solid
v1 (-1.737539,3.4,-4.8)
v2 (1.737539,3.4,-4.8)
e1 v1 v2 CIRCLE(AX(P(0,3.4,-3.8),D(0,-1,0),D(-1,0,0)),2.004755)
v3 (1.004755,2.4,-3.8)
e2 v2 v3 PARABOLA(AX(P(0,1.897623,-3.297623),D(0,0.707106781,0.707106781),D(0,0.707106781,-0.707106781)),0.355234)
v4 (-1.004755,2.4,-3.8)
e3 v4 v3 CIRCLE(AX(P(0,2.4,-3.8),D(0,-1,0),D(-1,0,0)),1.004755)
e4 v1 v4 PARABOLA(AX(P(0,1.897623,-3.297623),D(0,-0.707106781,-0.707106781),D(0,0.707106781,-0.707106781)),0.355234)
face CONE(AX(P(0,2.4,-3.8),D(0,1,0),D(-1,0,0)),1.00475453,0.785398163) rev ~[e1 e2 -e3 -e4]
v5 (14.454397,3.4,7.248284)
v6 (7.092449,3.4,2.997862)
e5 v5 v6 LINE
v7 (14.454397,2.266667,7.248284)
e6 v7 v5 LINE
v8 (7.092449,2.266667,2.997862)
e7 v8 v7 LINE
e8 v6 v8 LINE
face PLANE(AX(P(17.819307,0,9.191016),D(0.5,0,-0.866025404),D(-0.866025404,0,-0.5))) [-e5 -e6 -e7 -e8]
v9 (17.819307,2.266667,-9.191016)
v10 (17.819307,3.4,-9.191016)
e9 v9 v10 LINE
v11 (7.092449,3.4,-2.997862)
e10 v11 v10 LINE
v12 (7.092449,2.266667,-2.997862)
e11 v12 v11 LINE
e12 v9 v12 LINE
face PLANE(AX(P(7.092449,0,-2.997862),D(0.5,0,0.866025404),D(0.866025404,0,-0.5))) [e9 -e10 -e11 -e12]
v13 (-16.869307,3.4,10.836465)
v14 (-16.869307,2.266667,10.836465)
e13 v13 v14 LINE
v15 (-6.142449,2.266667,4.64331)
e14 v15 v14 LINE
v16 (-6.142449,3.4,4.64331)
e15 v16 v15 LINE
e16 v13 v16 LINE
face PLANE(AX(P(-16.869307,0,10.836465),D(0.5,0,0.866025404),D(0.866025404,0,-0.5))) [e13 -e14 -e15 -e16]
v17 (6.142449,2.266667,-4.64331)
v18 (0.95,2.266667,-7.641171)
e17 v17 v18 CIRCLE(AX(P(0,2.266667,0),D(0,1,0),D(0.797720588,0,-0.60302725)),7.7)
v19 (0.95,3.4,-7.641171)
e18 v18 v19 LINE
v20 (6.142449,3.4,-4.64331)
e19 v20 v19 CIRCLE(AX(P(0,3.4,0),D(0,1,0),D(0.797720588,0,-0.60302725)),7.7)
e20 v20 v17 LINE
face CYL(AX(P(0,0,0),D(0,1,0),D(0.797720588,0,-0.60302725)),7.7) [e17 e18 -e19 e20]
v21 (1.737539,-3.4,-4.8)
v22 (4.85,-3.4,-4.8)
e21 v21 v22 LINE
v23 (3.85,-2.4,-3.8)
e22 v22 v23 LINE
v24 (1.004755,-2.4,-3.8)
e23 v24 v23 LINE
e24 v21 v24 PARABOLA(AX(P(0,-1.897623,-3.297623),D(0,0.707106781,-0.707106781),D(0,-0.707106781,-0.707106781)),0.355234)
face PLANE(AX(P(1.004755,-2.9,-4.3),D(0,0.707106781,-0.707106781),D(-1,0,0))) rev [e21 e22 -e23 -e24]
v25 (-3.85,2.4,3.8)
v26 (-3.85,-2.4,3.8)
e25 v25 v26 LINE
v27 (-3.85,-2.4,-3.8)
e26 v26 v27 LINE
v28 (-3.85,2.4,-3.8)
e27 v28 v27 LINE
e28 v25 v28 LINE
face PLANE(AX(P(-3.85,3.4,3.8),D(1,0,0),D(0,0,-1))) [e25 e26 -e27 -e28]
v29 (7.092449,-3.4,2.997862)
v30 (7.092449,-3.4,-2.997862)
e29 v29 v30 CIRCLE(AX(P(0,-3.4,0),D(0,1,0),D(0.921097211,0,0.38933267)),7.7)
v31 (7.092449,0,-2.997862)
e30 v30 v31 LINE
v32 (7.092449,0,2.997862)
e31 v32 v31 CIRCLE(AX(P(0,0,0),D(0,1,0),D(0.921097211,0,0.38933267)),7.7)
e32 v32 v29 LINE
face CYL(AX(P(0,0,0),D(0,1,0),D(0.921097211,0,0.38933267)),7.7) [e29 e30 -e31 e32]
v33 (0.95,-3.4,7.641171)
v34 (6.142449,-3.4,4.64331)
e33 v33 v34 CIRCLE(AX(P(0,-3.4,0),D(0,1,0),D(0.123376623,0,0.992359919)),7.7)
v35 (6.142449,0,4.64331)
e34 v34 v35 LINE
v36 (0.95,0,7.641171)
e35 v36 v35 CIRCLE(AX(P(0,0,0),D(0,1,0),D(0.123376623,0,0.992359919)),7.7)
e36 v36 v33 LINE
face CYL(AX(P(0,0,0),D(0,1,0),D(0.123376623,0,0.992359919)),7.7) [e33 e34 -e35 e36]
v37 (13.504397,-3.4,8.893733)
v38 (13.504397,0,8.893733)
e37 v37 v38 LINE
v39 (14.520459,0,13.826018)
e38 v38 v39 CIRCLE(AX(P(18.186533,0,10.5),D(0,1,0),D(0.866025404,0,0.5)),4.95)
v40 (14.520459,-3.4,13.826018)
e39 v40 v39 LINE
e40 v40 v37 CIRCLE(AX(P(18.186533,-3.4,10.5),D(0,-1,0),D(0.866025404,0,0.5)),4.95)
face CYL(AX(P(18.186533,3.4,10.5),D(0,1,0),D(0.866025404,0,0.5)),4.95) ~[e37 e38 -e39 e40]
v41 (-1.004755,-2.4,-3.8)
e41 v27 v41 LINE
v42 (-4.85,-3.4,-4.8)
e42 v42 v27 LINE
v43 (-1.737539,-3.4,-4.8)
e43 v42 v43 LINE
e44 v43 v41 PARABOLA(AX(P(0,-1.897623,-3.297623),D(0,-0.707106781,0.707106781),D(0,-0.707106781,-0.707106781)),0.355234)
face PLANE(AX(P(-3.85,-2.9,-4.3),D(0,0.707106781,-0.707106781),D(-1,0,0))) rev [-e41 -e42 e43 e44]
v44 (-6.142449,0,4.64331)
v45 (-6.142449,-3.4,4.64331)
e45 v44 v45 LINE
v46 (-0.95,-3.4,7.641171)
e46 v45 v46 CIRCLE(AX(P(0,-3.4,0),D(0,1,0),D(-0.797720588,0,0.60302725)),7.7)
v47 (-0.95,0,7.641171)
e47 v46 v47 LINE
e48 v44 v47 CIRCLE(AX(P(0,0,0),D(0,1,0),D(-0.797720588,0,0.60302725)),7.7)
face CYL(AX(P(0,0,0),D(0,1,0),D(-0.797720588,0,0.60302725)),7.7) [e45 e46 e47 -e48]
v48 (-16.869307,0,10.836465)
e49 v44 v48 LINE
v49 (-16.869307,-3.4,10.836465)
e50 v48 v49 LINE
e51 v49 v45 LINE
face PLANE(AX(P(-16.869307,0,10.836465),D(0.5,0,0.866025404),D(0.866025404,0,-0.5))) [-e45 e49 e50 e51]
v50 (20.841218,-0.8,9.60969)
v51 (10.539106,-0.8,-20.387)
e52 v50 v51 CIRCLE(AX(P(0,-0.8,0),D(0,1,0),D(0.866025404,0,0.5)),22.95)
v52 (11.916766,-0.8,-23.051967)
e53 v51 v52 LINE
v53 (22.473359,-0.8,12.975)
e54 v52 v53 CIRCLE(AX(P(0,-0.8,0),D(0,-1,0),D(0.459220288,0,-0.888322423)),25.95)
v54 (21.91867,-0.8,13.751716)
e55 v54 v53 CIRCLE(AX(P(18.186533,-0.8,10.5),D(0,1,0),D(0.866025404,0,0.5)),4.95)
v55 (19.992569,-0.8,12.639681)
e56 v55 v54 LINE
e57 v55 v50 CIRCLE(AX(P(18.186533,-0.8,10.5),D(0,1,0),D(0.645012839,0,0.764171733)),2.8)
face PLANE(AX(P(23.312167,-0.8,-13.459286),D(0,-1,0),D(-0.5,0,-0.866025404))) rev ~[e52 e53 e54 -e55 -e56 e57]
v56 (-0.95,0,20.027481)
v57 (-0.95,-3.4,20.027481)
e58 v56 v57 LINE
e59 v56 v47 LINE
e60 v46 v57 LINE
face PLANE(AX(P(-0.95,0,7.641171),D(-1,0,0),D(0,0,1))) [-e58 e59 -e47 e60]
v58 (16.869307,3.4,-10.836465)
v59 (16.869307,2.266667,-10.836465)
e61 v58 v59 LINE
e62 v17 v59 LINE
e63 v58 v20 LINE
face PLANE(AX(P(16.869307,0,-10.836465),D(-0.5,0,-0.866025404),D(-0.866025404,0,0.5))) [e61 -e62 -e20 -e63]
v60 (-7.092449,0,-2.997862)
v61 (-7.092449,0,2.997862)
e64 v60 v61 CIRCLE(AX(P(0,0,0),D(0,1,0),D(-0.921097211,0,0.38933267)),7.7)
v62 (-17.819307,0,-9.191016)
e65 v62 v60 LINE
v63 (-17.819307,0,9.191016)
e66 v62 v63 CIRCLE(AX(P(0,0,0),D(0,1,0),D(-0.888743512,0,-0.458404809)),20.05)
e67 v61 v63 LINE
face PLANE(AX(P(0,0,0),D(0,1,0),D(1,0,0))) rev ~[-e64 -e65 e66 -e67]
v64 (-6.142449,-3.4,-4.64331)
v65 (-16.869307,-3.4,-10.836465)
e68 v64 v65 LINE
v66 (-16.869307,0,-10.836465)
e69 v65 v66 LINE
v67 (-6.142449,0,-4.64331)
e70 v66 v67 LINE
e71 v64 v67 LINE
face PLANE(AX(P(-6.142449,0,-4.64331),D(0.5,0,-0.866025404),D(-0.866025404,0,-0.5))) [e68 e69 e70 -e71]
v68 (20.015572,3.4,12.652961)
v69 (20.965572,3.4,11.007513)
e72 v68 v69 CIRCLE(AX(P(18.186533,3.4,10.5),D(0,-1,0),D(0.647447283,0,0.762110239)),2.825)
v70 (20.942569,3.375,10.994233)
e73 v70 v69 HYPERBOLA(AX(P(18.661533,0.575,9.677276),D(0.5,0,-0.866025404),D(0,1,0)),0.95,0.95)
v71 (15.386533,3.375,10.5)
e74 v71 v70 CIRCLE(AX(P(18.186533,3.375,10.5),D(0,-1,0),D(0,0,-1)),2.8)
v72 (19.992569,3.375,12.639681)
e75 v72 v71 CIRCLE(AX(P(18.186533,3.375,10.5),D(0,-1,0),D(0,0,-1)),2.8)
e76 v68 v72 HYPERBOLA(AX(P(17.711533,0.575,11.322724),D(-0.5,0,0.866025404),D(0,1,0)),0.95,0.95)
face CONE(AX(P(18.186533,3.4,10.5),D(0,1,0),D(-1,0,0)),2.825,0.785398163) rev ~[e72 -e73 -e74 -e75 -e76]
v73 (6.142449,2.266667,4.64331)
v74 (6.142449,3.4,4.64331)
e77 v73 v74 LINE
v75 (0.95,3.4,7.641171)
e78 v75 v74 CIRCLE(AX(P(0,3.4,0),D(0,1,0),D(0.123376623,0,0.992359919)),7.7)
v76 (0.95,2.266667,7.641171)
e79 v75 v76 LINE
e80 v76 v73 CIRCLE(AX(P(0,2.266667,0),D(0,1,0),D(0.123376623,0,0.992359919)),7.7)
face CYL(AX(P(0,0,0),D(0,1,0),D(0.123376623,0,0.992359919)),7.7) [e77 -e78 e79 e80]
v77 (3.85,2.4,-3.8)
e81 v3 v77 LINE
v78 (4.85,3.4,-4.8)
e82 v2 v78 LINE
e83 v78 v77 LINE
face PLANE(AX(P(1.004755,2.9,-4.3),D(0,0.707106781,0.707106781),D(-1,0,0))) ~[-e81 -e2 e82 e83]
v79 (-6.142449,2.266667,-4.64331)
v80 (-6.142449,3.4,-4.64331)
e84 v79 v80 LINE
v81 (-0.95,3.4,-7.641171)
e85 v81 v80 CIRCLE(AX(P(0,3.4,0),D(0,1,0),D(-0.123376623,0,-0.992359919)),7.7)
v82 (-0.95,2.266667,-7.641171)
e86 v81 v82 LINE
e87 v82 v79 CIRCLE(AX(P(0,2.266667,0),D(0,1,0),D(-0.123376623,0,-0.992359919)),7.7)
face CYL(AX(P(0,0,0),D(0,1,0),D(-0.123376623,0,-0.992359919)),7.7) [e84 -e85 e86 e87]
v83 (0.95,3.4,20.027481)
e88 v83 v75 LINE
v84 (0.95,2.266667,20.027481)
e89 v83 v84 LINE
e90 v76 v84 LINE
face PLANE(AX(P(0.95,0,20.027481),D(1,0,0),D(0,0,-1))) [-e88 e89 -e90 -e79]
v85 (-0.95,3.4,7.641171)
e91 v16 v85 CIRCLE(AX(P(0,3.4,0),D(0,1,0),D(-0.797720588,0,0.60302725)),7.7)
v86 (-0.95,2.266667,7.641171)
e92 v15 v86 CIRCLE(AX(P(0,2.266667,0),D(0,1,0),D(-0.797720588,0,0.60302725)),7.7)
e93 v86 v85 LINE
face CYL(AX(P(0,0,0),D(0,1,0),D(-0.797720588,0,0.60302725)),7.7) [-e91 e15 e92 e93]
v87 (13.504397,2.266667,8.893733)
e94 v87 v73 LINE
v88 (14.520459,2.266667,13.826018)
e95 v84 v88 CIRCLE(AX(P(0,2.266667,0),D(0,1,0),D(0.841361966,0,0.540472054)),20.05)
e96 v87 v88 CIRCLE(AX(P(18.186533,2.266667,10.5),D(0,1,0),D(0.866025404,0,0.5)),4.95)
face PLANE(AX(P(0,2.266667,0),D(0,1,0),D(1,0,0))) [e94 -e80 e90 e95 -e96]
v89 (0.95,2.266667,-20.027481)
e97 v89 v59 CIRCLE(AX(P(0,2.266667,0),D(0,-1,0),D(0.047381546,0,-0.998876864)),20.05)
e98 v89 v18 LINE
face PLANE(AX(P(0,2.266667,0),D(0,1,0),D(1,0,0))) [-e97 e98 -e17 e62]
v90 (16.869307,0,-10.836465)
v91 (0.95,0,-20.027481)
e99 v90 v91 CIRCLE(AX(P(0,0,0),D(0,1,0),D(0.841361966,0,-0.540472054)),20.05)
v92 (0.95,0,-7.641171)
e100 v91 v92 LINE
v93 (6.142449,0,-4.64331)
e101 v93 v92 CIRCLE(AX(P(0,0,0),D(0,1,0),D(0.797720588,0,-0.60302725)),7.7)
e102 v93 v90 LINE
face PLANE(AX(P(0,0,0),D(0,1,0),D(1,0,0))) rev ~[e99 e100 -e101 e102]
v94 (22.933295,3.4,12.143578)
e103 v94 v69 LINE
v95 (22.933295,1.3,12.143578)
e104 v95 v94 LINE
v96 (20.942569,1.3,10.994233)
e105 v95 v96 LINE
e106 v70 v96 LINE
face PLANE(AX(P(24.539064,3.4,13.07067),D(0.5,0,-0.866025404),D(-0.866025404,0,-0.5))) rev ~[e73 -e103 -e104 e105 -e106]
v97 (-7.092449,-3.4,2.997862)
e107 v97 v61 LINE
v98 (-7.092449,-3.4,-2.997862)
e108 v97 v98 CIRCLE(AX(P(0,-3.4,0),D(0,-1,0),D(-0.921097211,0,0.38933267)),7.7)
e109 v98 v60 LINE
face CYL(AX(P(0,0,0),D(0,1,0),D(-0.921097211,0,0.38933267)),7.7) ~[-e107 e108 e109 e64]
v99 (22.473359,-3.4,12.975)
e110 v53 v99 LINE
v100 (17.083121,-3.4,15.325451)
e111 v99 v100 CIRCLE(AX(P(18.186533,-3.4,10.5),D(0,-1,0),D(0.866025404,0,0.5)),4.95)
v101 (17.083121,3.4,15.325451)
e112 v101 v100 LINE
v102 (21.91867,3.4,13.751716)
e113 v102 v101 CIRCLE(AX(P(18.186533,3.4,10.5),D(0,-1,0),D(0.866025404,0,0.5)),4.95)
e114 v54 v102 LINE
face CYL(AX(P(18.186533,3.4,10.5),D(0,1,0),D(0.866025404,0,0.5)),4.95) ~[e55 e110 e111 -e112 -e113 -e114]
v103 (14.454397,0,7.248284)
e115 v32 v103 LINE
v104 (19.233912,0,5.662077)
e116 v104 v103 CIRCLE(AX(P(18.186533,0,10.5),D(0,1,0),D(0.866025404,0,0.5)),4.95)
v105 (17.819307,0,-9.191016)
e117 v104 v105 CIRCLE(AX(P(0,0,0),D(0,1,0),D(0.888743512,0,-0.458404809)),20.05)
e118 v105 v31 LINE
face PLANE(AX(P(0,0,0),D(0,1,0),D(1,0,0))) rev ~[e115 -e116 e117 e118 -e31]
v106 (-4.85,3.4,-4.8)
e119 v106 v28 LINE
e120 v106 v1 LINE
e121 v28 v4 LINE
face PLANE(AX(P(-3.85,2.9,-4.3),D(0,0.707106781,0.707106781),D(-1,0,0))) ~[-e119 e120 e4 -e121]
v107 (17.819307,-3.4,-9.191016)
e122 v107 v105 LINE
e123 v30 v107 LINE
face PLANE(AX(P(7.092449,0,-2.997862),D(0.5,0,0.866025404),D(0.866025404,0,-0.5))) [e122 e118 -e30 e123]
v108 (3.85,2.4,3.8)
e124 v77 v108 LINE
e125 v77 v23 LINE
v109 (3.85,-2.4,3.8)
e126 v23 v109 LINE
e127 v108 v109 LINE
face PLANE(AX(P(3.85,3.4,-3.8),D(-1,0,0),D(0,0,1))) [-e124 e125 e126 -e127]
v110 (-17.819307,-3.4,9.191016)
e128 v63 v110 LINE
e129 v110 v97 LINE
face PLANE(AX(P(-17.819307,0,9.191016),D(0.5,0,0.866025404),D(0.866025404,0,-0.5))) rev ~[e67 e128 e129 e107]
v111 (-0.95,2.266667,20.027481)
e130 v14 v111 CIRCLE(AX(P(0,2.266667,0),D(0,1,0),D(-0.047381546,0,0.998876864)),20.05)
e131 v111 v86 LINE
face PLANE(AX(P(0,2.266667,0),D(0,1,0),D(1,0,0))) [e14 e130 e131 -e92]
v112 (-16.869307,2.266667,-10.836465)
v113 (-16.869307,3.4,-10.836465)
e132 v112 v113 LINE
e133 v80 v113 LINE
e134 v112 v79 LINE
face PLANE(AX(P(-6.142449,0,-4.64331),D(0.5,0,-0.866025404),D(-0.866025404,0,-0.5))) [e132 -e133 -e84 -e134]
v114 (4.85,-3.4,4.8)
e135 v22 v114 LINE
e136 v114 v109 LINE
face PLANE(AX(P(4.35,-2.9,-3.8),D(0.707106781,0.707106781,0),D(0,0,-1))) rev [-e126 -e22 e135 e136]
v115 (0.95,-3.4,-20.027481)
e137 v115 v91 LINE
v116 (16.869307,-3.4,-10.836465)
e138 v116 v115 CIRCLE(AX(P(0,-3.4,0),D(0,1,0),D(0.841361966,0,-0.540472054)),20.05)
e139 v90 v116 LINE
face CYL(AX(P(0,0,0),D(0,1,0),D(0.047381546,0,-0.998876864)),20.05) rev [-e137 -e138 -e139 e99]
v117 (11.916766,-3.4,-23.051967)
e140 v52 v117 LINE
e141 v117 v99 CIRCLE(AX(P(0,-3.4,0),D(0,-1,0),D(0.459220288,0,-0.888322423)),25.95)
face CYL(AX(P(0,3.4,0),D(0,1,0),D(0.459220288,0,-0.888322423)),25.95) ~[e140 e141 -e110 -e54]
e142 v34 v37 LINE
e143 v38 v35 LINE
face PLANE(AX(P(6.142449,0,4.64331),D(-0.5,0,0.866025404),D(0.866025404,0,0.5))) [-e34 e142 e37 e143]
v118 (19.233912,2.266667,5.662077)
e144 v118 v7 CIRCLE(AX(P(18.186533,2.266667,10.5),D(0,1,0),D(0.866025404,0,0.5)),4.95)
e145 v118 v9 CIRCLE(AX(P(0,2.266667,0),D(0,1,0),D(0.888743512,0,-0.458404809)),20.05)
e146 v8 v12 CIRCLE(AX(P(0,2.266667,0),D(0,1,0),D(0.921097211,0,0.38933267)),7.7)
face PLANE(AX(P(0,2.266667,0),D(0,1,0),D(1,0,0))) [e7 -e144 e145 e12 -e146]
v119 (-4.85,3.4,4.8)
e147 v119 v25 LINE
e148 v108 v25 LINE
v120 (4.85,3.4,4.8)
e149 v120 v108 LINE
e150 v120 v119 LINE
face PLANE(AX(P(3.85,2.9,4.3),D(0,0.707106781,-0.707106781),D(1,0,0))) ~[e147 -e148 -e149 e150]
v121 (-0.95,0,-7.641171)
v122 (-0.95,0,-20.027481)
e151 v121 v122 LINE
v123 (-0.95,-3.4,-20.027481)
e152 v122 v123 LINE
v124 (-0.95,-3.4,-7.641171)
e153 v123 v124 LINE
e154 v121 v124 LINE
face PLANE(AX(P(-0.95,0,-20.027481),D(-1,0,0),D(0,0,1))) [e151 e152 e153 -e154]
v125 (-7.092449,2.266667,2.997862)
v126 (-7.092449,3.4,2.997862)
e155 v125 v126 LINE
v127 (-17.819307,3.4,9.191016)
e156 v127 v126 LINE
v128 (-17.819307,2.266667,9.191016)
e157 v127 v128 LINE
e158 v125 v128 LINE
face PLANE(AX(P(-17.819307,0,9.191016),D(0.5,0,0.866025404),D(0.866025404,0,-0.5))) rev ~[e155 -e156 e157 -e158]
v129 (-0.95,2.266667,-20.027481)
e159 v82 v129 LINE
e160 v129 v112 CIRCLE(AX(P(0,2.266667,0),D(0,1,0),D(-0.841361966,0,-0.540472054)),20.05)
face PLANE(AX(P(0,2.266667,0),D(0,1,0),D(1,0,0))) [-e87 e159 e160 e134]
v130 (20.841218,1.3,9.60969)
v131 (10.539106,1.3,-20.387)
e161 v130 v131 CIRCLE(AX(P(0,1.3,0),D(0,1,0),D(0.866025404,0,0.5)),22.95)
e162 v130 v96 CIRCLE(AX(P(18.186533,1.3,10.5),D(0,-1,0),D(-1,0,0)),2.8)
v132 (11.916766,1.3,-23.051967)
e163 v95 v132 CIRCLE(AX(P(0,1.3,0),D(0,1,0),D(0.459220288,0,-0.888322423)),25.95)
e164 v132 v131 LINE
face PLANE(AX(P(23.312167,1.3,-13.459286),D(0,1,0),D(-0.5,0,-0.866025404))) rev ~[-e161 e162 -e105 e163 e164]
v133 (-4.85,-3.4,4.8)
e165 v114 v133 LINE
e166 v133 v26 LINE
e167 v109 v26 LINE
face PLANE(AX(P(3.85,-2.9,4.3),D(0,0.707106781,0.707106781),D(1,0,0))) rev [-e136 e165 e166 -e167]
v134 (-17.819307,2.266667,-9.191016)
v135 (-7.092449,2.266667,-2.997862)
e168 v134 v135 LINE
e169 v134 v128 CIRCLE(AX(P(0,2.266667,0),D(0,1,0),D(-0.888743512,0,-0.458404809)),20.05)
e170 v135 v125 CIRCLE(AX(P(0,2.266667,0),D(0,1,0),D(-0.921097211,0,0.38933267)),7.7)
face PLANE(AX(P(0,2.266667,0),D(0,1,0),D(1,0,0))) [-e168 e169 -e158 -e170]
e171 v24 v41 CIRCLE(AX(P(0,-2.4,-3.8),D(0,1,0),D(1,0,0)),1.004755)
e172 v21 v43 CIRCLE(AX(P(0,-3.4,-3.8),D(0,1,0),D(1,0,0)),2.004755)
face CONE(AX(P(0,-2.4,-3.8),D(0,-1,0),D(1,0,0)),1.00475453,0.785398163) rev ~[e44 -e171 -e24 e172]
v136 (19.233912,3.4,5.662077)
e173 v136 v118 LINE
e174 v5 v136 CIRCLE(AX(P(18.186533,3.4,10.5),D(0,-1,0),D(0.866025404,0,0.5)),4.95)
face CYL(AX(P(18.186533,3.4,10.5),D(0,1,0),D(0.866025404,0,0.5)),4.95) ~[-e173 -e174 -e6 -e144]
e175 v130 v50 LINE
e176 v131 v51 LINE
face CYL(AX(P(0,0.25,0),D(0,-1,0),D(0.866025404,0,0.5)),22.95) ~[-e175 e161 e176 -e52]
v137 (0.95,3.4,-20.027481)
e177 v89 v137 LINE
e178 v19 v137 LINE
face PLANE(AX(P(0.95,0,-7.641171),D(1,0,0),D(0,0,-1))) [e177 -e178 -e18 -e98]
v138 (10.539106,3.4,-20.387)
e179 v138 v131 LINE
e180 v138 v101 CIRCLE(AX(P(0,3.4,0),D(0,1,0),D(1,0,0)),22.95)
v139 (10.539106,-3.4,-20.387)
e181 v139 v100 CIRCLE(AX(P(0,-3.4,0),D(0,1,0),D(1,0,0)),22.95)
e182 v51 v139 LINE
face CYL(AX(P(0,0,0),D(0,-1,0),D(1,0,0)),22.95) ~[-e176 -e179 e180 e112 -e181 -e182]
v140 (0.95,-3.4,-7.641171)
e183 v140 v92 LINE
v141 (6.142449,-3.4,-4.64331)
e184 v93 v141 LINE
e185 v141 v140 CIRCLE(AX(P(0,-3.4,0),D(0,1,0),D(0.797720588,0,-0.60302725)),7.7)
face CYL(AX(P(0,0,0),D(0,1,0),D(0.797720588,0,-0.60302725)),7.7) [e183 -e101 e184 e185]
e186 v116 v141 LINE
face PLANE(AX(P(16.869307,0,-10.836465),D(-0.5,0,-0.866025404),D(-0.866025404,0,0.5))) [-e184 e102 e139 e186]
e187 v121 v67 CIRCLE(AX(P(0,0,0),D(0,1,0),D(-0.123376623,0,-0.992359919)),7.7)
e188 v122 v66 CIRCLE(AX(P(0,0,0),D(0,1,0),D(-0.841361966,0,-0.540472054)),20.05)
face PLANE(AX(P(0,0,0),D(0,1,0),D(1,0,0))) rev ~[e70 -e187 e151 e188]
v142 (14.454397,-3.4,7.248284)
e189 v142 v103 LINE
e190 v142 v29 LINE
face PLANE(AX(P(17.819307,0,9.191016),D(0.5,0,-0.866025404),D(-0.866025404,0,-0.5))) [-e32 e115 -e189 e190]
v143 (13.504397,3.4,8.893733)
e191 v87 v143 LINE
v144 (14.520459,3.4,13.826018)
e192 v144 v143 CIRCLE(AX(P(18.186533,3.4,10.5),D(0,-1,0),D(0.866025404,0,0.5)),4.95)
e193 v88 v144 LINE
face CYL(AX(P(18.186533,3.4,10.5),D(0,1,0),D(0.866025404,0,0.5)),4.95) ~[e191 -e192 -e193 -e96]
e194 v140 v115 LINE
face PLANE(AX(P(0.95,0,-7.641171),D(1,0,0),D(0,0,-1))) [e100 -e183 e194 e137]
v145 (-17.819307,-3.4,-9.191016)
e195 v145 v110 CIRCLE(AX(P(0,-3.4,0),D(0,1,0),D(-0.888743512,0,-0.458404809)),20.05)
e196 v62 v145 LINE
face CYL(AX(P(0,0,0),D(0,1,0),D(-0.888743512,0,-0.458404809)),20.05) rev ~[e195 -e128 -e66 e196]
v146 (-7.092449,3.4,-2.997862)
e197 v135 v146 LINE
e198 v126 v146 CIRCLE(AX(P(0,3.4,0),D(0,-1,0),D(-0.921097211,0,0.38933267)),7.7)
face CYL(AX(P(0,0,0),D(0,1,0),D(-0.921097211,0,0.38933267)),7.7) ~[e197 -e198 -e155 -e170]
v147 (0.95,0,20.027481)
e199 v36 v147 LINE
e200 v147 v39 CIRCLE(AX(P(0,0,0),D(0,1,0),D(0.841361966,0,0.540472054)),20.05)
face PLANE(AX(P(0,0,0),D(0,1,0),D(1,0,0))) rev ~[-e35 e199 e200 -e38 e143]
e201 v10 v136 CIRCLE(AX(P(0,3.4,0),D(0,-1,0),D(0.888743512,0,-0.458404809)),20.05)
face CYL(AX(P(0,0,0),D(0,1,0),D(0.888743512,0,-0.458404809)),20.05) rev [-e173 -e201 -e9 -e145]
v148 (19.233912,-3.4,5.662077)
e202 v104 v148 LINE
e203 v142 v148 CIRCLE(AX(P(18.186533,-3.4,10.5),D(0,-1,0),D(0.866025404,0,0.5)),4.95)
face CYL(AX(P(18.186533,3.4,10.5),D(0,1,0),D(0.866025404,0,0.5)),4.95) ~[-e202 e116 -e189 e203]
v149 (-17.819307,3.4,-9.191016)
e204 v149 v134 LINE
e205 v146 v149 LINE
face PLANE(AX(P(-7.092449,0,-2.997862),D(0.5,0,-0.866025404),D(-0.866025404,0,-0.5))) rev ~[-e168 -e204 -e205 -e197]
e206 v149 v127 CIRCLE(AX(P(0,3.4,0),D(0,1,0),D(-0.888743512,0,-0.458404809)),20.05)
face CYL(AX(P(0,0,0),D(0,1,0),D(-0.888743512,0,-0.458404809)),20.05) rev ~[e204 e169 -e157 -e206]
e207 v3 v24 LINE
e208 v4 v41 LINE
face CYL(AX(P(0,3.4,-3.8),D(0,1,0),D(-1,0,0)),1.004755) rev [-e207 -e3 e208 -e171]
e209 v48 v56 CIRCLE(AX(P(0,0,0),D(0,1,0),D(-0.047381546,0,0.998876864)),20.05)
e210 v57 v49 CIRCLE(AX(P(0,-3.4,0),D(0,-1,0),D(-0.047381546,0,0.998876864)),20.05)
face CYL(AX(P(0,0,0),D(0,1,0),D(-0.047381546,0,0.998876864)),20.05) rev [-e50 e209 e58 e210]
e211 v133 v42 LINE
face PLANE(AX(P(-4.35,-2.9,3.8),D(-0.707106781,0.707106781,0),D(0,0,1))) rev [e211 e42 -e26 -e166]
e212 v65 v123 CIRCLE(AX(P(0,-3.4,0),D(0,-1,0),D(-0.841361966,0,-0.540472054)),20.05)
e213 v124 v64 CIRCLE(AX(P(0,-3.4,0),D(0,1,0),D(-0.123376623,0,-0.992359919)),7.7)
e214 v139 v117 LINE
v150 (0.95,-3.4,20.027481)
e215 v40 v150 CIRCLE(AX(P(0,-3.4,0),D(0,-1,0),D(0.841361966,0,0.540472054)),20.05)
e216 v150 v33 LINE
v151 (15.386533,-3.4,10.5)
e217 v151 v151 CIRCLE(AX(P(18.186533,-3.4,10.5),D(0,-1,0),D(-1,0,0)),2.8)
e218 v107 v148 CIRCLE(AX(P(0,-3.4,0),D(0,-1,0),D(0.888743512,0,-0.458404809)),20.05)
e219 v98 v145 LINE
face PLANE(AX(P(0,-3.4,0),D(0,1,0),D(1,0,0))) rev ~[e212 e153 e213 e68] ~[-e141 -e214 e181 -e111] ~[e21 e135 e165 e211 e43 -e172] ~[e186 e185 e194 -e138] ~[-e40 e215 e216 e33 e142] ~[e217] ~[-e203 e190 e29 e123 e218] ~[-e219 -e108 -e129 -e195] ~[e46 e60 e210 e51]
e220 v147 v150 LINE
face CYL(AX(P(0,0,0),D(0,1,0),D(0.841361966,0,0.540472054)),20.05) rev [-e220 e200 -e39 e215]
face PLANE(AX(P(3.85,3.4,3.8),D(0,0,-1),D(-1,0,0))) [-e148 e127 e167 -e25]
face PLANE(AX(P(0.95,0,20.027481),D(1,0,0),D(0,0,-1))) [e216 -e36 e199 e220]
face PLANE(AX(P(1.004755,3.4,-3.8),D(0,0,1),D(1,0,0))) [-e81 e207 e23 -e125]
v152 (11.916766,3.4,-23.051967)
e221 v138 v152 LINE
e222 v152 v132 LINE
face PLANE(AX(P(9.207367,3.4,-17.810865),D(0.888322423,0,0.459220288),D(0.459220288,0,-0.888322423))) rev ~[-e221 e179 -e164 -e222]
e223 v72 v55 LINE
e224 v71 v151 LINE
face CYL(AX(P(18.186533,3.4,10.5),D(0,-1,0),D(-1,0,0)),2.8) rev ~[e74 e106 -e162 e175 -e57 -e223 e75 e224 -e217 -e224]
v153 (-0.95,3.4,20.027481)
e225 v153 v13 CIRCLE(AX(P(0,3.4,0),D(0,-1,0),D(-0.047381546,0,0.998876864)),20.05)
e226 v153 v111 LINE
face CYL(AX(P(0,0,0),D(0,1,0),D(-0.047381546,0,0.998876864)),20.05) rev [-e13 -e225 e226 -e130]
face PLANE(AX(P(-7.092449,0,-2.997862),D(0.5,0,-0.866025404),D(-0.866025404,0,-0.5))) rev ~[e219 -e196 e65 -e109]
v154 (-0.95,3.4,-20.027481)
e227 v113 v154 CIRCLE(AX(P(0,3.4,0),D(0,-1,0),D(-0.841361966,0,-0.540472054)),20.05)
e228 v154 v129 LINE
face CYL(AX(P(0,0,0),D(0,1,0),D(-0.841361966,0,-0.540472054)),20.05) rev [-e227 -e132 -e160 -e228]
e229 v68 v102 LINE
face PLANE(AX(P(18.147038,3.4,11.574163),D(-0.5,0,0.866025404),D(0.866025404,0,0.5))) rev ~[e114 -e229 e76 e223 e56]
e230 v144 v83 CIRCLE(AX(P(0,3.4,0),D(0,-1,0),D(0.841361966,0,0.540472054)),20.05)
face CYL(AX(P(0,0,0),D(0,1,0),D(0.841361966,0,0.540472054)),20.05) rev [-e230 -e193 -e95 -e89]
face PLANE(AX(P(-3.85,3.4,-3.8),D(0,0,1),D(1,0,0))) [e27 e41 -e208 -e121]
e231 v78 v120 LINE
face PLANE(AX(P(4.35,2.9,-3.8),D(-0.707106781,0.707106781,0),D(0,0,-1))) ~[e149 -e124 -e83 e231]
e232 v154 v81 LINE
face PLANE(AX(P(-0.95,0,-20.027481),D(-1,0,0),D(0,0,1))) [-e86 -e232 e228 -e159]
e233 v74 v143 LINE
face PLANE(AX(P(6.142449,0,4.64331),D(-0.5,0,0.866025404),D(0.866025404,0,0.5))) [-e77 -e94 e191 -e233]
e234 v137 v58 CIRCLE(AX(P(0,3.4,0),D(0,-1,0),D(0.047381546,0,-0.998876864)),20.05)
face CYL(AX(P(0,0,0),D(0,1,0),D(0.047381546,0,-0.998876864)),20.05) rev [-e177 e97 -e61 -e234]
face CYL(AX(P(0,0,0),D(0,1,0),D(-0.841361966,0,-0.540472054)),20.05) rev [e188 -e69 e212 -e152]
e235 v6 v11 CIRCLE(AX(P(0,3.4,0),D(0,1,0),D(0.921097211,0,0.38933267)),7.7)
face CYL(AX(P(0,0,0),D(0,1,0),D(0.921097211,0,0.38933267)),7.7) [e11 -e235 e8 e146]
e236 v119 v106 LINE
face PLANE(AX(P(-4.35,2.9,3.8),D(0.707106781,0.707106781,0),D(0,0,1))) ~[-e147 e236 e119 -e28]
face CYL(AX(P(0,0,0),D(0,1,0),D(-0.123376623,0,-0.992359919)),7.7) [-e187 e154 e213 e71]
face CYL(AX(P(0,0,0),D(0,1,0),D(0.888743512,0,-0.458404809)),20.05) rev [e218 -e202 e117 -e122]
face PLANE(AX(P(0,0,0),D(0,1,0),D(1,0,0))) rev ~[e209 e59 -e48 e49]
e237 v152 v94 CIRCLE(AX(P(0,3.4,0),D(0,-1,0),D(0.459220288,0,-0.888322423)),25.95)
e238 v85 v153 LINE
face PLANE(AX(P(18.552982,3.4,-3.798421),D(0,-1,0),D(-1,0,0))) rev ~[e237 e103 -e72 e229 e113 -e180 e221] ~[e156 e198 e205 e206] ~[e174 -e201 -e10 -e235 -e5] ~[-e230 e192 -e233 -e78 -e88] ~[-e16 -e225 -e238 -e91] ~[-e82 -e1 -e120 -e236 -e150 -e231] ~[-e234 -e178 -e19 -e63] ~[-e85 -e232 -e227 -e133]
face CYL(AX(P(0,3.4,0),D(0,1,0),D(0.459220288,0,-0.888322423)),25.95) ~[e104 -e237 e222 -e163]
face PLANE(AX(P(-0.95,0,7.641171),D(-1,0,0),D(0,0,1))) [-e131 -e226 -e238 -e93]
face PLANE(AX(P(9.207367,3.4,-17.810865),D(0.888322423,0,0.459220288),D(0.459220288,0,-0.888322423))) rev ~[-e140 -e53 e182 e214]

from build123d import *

# Parameters (mm, degrees)
ESBO_O1_R                              = 22.95
RESSALTO_EXTRUS_O1_DEPTH               = 3.4
ESBO_O2_R                              = 22.95
RESSALTO_EXTRUS_O2_DEPTH               = 2.266666667
CORTE_EXTRUS_O1_DEPTH                  = 7.8
CHANFRO1_SIZE                          = 1
RESSALTO_EXTRUS_O3_DEPTH               = 6.8
FURO_DE_DI_METRO_5_6_5_6_1_D           = 5.6
FURO_DE_DI_METRO_5_6_5_6_1_DEPTH       = 10
FURO_DE_DI_METRO_5_6_5_6_1_CSINK_D     = 5.65
FURO_DE_DI_METRO_5_6_5_6_1_CSINK_ANGLE = 90
FURO_DE_DI_METRO_5_6_5_6_1_TIP         = 1.682409733
ESBO_O8_W                              = 7.937144563
ESBO_O8_H                              = 2.1
CORTE_EXTRUS_O2_DEPTH                  = 4.2


with BuildPart() as part:
    # Esboço1 → Ressalto-extrusão1 (new body, symmetric)
    with BuildSketch(Plane(origin=(0, 0, 0), x_dir=(1, 0, 0), z_dir=(0, 1, 0))):
        Circle(ESBO_O1_R)
        with BuildLine():
            Line((-7.092448526, 2.997861554), (-17.819307423, 9.191016426))
            ThreePointArc((-17.819307423, 9.191016426), (-20.05, 0), (-17.819307423, -9.191016426))
            Line((-17.819307423, -9.191016426), (-7.092448526, -2.997861554))
            ThreePointArc((-7.092448526, -2.997861554), (-7.7, 0), (-7.092448526, 2.997861554))
        make_face(mode=Mode.SUBTRACT)
        with BuildLine():
            Line((-6.142448526, 4.643309822), (-16.869307423, 10.836464693))
            ThreePointArc((-16.869307423, 10.836464693), (-10.025, 17.363809346), (-0.95, 20.02748112))
            Line((-0.95, 20.02748112), (-0.95, 7.641171376))
            ThreePointArc((-0.95, 7.641171376), (-3.85, 6.668395609), (-6.142448526, 4.643309822))
        make_face(mode=Mode.SUBTRACT)
        with BuildLine():
            Line((0.95, 7.641171376), (0.95, 20.02748112))
            ThreePointArc((0.95, 20.02748112), (10.025, 17.363809346), (16.869307423, 10.836464693))
            Line((16.869307423, 10.836464693), (6.142448526, 4.643309822))
            ThreePointArc((6.142448526, 4.643309822), (3.85, 6.668395609), (0.95, 7.641171376))
        make_face(mode=Mode.SUBTRACT)
        with BuildLine():
            Line((7.092448526, 2.997861554), (17.819307423, 9.191016426))
            ThreePointArc((17.819307423, 9.191016426), (20.05, 0), (17.819307423, -9.191016426))
            Line((17.819307423, -9.191016426), (7.092448526, -2.997861554))
            ThreePointArc((7.092448526, -2.997861554), (7.7, 0), (7.092448526, 2.997861554))
        make_face(mode=Mode.SUBTRACT)
        with BuildLine():
            Line((6.142448526, -4.643309822), (16.869307423, -10.836464693))
            ThreePointArc((16.869307423, -10.836464693), (10.025, -17.363809346), (0.95, -20.02748112))
            Line((0.95, -20.02748112), (0.95, -7.641171376))
            ThreePointArc((0.95, -7.641171376), (3.85, -6.668395609), (6.142448526, -4.643309822))
        make_face(mode=Mode.SUBTRACT)
        with BuildLine():
            Line((-0.95, -7.641171376), (-0.95, -20.02748112))
            ThreePointArc((-0.95, -20.02748112), (-10.025, -17.363809346), (-16.869307423, -10.836464693))
            Line((-16.869307423, -10.836464693), (-6.142448526, -4.643309822))
            ThreePointArc((-6.142448526, -4.643309822), (-3.85, -6.668395609), (-0.95, -7.641171376))
        make_face(mode=Mode.SUBTRACT)
    extrude(amount=RESSALTO_EXTRUS_O1_DEPTH, both=True)

    # Esboço2 → Ressalto-extrusão2 (add)
    with BuildSketch(Plane(origin=(0, 0, 0), x_dir=(1, 0, 0), z_dir=(0, 1, 0))):
        Circle(ESBO_O2_R)
    extrude(amount=RESSALTO_EXTRUS_O2_DEPTH)

    # Esboço3 → Corte-extrusão1 (cut, through all)
    with BuildSketch(Plane(origin=(0, 3.4, 0), x_dir=(1, 0, 0), z_dir=(0, 1, 0))):
        with BuildLine():
            Line((1.00475453, 3.8), (3.85, 3.8))
            Line((3.85, 3.8), (3.85, -3.8))
            Line((3.85, -3.8), (-3.85, -3.8))
            Line((-3.85, -3.8), (-3.85, 3.8))
            Line((-3.85, 3.8), (-1.00475453, 3.8))
            ThreePointArc((-1.00475453, 3.8), (0, 4.80475453), (1.00475453, 3.8))
        make_face()
    extrude(amount=-CORTE_EXTRUS_O1_DEPTH, mode=Mode.SUBTRACT)

    # Chanfro1
    chanfro1_edges = [part.edges().sort_by_distance(p)[0] for p in [
        (3.85, -3.4, 0),
        (0, -3.4, 3.8),
        (-3.85, -3.4, 0),
        (-2.427377265, -3.4, -3.8),
        (0, -3.4, -4.80475453),
        (2.427377265, -3.4, -3.8),
        (3.85, 3.4, 0),
        (2.427377265, 3.4, -3.8),
        (0, 3.4, -4.80475453),
        (-2.427377265, 3.4, -3.8),
        (-3.85, 3.4, 0),
        (0, 3.4, 3.8),
    ]]
    chamfer(chanfro1_edges, length=CHANFRO1_SIZE)

    # Esboço4 → Ressalto-extrusão3 (add)
    with BuildSketch(Plane(origin=(0, 3.4, 0), x_dir=(1, 0, 0), z_dir=(0, 1, 0))):
        with BuildLine():
            Line((9.207366783, 17.810864576), (11.916766484, 23.05196687))
            ThreePointArc((11.916766484, 23.05196687), (24.902926978, 7.297035556), (22.473359228, -12.975))
            ThreePointArc((22.473359228, -12.975), (13.660702639, -12.504832962), (19.233912303, -5.66207714))
            ThreePointArc((19.233912303, -5.66207714), (18.438311669, 7.875986466), (9.207366783, 17.810864576))
        make_face()
    extrude(amount=-RESSALTO_EXTRUS_O3_DEPTH)

    # Furo de diâmetro Ø5.6 (5.6)1
    with Locations(Plane(origin=(0, 3.4, 0), x_dir=(1, 0, 0), z_dir=(0, 1, 0))):
        with Locations((18.186533479, -10.5)):
            CounterSinkHole(FURO_DE_DI_METRO_5_6_5_6_1_D / 2, FURO_DE_DI_METRO_5_6_5_6_1_CSINK_D / 2, depth=FURO_DE_DI_METRO_5_6_5_6_1_DEPTH, counter_sink_angle=FURO_DE_DI_METRO_5_6_5_6_1_CSINK_ANGLE)
            with Locations((0, 0, -(FURO_DE_DI_METRO_5_6_5_6_1_DEPTH + FURO_DE_DI_METRO_5_6_5_6_1_TIP / 2))):  # 118° drill point
                Cone(0, FURO_DE_DI_METRO_5_6_5_6_1_D / 2, FURO_DE_DI_METRO_5_6_5_6_1_TIP, mode=Mode.SUBTRACT)

    # Varredura de corte1: sweep along a path in Esboço7
    with BuildLine(Plane(origin=(0, 0, 0), x_dir=(1, 0, 0), z_dir=(0, 1, 0))) as varredura_de_corte1_path:
        ThreePointArc((19.875283017, -11.475), (19.875283017, 11.475), (0, 22.95))
    # Esboço8 → Varredura de corte1 (sweep, cut)
    with BuildSketch(Plane(origin=(0, 0, 0), x_dir=(0, 0, -1), z_dir=(1, 0, 0))):
        with Locations((26.918572282, 0.25)):
            Rectangle(ESBO_O8_W, ESBO_O8_H)
    sweep(path=varredura_de_corte1_path.line, mode=Mode.SUBTRACT)

    # Esboço9 → Corte-extrusão2 (cut)
    with BuildSketch(Plane(origin=(0, 3.4, 0), x_dir=(1, 0, 0), z_dir=(0, 1, 0))):
        Polygon((18.147037743, -11.574162637), (23.041410617, -14.399930134), (24.539064474, -13.070669968), (18.226029216, -9.425837363), align=None)
    extrude(amount=-CORTE_EXTRUS_O2_DEPTH, mode=Mode.SUBTRACT)


solid = part.part
